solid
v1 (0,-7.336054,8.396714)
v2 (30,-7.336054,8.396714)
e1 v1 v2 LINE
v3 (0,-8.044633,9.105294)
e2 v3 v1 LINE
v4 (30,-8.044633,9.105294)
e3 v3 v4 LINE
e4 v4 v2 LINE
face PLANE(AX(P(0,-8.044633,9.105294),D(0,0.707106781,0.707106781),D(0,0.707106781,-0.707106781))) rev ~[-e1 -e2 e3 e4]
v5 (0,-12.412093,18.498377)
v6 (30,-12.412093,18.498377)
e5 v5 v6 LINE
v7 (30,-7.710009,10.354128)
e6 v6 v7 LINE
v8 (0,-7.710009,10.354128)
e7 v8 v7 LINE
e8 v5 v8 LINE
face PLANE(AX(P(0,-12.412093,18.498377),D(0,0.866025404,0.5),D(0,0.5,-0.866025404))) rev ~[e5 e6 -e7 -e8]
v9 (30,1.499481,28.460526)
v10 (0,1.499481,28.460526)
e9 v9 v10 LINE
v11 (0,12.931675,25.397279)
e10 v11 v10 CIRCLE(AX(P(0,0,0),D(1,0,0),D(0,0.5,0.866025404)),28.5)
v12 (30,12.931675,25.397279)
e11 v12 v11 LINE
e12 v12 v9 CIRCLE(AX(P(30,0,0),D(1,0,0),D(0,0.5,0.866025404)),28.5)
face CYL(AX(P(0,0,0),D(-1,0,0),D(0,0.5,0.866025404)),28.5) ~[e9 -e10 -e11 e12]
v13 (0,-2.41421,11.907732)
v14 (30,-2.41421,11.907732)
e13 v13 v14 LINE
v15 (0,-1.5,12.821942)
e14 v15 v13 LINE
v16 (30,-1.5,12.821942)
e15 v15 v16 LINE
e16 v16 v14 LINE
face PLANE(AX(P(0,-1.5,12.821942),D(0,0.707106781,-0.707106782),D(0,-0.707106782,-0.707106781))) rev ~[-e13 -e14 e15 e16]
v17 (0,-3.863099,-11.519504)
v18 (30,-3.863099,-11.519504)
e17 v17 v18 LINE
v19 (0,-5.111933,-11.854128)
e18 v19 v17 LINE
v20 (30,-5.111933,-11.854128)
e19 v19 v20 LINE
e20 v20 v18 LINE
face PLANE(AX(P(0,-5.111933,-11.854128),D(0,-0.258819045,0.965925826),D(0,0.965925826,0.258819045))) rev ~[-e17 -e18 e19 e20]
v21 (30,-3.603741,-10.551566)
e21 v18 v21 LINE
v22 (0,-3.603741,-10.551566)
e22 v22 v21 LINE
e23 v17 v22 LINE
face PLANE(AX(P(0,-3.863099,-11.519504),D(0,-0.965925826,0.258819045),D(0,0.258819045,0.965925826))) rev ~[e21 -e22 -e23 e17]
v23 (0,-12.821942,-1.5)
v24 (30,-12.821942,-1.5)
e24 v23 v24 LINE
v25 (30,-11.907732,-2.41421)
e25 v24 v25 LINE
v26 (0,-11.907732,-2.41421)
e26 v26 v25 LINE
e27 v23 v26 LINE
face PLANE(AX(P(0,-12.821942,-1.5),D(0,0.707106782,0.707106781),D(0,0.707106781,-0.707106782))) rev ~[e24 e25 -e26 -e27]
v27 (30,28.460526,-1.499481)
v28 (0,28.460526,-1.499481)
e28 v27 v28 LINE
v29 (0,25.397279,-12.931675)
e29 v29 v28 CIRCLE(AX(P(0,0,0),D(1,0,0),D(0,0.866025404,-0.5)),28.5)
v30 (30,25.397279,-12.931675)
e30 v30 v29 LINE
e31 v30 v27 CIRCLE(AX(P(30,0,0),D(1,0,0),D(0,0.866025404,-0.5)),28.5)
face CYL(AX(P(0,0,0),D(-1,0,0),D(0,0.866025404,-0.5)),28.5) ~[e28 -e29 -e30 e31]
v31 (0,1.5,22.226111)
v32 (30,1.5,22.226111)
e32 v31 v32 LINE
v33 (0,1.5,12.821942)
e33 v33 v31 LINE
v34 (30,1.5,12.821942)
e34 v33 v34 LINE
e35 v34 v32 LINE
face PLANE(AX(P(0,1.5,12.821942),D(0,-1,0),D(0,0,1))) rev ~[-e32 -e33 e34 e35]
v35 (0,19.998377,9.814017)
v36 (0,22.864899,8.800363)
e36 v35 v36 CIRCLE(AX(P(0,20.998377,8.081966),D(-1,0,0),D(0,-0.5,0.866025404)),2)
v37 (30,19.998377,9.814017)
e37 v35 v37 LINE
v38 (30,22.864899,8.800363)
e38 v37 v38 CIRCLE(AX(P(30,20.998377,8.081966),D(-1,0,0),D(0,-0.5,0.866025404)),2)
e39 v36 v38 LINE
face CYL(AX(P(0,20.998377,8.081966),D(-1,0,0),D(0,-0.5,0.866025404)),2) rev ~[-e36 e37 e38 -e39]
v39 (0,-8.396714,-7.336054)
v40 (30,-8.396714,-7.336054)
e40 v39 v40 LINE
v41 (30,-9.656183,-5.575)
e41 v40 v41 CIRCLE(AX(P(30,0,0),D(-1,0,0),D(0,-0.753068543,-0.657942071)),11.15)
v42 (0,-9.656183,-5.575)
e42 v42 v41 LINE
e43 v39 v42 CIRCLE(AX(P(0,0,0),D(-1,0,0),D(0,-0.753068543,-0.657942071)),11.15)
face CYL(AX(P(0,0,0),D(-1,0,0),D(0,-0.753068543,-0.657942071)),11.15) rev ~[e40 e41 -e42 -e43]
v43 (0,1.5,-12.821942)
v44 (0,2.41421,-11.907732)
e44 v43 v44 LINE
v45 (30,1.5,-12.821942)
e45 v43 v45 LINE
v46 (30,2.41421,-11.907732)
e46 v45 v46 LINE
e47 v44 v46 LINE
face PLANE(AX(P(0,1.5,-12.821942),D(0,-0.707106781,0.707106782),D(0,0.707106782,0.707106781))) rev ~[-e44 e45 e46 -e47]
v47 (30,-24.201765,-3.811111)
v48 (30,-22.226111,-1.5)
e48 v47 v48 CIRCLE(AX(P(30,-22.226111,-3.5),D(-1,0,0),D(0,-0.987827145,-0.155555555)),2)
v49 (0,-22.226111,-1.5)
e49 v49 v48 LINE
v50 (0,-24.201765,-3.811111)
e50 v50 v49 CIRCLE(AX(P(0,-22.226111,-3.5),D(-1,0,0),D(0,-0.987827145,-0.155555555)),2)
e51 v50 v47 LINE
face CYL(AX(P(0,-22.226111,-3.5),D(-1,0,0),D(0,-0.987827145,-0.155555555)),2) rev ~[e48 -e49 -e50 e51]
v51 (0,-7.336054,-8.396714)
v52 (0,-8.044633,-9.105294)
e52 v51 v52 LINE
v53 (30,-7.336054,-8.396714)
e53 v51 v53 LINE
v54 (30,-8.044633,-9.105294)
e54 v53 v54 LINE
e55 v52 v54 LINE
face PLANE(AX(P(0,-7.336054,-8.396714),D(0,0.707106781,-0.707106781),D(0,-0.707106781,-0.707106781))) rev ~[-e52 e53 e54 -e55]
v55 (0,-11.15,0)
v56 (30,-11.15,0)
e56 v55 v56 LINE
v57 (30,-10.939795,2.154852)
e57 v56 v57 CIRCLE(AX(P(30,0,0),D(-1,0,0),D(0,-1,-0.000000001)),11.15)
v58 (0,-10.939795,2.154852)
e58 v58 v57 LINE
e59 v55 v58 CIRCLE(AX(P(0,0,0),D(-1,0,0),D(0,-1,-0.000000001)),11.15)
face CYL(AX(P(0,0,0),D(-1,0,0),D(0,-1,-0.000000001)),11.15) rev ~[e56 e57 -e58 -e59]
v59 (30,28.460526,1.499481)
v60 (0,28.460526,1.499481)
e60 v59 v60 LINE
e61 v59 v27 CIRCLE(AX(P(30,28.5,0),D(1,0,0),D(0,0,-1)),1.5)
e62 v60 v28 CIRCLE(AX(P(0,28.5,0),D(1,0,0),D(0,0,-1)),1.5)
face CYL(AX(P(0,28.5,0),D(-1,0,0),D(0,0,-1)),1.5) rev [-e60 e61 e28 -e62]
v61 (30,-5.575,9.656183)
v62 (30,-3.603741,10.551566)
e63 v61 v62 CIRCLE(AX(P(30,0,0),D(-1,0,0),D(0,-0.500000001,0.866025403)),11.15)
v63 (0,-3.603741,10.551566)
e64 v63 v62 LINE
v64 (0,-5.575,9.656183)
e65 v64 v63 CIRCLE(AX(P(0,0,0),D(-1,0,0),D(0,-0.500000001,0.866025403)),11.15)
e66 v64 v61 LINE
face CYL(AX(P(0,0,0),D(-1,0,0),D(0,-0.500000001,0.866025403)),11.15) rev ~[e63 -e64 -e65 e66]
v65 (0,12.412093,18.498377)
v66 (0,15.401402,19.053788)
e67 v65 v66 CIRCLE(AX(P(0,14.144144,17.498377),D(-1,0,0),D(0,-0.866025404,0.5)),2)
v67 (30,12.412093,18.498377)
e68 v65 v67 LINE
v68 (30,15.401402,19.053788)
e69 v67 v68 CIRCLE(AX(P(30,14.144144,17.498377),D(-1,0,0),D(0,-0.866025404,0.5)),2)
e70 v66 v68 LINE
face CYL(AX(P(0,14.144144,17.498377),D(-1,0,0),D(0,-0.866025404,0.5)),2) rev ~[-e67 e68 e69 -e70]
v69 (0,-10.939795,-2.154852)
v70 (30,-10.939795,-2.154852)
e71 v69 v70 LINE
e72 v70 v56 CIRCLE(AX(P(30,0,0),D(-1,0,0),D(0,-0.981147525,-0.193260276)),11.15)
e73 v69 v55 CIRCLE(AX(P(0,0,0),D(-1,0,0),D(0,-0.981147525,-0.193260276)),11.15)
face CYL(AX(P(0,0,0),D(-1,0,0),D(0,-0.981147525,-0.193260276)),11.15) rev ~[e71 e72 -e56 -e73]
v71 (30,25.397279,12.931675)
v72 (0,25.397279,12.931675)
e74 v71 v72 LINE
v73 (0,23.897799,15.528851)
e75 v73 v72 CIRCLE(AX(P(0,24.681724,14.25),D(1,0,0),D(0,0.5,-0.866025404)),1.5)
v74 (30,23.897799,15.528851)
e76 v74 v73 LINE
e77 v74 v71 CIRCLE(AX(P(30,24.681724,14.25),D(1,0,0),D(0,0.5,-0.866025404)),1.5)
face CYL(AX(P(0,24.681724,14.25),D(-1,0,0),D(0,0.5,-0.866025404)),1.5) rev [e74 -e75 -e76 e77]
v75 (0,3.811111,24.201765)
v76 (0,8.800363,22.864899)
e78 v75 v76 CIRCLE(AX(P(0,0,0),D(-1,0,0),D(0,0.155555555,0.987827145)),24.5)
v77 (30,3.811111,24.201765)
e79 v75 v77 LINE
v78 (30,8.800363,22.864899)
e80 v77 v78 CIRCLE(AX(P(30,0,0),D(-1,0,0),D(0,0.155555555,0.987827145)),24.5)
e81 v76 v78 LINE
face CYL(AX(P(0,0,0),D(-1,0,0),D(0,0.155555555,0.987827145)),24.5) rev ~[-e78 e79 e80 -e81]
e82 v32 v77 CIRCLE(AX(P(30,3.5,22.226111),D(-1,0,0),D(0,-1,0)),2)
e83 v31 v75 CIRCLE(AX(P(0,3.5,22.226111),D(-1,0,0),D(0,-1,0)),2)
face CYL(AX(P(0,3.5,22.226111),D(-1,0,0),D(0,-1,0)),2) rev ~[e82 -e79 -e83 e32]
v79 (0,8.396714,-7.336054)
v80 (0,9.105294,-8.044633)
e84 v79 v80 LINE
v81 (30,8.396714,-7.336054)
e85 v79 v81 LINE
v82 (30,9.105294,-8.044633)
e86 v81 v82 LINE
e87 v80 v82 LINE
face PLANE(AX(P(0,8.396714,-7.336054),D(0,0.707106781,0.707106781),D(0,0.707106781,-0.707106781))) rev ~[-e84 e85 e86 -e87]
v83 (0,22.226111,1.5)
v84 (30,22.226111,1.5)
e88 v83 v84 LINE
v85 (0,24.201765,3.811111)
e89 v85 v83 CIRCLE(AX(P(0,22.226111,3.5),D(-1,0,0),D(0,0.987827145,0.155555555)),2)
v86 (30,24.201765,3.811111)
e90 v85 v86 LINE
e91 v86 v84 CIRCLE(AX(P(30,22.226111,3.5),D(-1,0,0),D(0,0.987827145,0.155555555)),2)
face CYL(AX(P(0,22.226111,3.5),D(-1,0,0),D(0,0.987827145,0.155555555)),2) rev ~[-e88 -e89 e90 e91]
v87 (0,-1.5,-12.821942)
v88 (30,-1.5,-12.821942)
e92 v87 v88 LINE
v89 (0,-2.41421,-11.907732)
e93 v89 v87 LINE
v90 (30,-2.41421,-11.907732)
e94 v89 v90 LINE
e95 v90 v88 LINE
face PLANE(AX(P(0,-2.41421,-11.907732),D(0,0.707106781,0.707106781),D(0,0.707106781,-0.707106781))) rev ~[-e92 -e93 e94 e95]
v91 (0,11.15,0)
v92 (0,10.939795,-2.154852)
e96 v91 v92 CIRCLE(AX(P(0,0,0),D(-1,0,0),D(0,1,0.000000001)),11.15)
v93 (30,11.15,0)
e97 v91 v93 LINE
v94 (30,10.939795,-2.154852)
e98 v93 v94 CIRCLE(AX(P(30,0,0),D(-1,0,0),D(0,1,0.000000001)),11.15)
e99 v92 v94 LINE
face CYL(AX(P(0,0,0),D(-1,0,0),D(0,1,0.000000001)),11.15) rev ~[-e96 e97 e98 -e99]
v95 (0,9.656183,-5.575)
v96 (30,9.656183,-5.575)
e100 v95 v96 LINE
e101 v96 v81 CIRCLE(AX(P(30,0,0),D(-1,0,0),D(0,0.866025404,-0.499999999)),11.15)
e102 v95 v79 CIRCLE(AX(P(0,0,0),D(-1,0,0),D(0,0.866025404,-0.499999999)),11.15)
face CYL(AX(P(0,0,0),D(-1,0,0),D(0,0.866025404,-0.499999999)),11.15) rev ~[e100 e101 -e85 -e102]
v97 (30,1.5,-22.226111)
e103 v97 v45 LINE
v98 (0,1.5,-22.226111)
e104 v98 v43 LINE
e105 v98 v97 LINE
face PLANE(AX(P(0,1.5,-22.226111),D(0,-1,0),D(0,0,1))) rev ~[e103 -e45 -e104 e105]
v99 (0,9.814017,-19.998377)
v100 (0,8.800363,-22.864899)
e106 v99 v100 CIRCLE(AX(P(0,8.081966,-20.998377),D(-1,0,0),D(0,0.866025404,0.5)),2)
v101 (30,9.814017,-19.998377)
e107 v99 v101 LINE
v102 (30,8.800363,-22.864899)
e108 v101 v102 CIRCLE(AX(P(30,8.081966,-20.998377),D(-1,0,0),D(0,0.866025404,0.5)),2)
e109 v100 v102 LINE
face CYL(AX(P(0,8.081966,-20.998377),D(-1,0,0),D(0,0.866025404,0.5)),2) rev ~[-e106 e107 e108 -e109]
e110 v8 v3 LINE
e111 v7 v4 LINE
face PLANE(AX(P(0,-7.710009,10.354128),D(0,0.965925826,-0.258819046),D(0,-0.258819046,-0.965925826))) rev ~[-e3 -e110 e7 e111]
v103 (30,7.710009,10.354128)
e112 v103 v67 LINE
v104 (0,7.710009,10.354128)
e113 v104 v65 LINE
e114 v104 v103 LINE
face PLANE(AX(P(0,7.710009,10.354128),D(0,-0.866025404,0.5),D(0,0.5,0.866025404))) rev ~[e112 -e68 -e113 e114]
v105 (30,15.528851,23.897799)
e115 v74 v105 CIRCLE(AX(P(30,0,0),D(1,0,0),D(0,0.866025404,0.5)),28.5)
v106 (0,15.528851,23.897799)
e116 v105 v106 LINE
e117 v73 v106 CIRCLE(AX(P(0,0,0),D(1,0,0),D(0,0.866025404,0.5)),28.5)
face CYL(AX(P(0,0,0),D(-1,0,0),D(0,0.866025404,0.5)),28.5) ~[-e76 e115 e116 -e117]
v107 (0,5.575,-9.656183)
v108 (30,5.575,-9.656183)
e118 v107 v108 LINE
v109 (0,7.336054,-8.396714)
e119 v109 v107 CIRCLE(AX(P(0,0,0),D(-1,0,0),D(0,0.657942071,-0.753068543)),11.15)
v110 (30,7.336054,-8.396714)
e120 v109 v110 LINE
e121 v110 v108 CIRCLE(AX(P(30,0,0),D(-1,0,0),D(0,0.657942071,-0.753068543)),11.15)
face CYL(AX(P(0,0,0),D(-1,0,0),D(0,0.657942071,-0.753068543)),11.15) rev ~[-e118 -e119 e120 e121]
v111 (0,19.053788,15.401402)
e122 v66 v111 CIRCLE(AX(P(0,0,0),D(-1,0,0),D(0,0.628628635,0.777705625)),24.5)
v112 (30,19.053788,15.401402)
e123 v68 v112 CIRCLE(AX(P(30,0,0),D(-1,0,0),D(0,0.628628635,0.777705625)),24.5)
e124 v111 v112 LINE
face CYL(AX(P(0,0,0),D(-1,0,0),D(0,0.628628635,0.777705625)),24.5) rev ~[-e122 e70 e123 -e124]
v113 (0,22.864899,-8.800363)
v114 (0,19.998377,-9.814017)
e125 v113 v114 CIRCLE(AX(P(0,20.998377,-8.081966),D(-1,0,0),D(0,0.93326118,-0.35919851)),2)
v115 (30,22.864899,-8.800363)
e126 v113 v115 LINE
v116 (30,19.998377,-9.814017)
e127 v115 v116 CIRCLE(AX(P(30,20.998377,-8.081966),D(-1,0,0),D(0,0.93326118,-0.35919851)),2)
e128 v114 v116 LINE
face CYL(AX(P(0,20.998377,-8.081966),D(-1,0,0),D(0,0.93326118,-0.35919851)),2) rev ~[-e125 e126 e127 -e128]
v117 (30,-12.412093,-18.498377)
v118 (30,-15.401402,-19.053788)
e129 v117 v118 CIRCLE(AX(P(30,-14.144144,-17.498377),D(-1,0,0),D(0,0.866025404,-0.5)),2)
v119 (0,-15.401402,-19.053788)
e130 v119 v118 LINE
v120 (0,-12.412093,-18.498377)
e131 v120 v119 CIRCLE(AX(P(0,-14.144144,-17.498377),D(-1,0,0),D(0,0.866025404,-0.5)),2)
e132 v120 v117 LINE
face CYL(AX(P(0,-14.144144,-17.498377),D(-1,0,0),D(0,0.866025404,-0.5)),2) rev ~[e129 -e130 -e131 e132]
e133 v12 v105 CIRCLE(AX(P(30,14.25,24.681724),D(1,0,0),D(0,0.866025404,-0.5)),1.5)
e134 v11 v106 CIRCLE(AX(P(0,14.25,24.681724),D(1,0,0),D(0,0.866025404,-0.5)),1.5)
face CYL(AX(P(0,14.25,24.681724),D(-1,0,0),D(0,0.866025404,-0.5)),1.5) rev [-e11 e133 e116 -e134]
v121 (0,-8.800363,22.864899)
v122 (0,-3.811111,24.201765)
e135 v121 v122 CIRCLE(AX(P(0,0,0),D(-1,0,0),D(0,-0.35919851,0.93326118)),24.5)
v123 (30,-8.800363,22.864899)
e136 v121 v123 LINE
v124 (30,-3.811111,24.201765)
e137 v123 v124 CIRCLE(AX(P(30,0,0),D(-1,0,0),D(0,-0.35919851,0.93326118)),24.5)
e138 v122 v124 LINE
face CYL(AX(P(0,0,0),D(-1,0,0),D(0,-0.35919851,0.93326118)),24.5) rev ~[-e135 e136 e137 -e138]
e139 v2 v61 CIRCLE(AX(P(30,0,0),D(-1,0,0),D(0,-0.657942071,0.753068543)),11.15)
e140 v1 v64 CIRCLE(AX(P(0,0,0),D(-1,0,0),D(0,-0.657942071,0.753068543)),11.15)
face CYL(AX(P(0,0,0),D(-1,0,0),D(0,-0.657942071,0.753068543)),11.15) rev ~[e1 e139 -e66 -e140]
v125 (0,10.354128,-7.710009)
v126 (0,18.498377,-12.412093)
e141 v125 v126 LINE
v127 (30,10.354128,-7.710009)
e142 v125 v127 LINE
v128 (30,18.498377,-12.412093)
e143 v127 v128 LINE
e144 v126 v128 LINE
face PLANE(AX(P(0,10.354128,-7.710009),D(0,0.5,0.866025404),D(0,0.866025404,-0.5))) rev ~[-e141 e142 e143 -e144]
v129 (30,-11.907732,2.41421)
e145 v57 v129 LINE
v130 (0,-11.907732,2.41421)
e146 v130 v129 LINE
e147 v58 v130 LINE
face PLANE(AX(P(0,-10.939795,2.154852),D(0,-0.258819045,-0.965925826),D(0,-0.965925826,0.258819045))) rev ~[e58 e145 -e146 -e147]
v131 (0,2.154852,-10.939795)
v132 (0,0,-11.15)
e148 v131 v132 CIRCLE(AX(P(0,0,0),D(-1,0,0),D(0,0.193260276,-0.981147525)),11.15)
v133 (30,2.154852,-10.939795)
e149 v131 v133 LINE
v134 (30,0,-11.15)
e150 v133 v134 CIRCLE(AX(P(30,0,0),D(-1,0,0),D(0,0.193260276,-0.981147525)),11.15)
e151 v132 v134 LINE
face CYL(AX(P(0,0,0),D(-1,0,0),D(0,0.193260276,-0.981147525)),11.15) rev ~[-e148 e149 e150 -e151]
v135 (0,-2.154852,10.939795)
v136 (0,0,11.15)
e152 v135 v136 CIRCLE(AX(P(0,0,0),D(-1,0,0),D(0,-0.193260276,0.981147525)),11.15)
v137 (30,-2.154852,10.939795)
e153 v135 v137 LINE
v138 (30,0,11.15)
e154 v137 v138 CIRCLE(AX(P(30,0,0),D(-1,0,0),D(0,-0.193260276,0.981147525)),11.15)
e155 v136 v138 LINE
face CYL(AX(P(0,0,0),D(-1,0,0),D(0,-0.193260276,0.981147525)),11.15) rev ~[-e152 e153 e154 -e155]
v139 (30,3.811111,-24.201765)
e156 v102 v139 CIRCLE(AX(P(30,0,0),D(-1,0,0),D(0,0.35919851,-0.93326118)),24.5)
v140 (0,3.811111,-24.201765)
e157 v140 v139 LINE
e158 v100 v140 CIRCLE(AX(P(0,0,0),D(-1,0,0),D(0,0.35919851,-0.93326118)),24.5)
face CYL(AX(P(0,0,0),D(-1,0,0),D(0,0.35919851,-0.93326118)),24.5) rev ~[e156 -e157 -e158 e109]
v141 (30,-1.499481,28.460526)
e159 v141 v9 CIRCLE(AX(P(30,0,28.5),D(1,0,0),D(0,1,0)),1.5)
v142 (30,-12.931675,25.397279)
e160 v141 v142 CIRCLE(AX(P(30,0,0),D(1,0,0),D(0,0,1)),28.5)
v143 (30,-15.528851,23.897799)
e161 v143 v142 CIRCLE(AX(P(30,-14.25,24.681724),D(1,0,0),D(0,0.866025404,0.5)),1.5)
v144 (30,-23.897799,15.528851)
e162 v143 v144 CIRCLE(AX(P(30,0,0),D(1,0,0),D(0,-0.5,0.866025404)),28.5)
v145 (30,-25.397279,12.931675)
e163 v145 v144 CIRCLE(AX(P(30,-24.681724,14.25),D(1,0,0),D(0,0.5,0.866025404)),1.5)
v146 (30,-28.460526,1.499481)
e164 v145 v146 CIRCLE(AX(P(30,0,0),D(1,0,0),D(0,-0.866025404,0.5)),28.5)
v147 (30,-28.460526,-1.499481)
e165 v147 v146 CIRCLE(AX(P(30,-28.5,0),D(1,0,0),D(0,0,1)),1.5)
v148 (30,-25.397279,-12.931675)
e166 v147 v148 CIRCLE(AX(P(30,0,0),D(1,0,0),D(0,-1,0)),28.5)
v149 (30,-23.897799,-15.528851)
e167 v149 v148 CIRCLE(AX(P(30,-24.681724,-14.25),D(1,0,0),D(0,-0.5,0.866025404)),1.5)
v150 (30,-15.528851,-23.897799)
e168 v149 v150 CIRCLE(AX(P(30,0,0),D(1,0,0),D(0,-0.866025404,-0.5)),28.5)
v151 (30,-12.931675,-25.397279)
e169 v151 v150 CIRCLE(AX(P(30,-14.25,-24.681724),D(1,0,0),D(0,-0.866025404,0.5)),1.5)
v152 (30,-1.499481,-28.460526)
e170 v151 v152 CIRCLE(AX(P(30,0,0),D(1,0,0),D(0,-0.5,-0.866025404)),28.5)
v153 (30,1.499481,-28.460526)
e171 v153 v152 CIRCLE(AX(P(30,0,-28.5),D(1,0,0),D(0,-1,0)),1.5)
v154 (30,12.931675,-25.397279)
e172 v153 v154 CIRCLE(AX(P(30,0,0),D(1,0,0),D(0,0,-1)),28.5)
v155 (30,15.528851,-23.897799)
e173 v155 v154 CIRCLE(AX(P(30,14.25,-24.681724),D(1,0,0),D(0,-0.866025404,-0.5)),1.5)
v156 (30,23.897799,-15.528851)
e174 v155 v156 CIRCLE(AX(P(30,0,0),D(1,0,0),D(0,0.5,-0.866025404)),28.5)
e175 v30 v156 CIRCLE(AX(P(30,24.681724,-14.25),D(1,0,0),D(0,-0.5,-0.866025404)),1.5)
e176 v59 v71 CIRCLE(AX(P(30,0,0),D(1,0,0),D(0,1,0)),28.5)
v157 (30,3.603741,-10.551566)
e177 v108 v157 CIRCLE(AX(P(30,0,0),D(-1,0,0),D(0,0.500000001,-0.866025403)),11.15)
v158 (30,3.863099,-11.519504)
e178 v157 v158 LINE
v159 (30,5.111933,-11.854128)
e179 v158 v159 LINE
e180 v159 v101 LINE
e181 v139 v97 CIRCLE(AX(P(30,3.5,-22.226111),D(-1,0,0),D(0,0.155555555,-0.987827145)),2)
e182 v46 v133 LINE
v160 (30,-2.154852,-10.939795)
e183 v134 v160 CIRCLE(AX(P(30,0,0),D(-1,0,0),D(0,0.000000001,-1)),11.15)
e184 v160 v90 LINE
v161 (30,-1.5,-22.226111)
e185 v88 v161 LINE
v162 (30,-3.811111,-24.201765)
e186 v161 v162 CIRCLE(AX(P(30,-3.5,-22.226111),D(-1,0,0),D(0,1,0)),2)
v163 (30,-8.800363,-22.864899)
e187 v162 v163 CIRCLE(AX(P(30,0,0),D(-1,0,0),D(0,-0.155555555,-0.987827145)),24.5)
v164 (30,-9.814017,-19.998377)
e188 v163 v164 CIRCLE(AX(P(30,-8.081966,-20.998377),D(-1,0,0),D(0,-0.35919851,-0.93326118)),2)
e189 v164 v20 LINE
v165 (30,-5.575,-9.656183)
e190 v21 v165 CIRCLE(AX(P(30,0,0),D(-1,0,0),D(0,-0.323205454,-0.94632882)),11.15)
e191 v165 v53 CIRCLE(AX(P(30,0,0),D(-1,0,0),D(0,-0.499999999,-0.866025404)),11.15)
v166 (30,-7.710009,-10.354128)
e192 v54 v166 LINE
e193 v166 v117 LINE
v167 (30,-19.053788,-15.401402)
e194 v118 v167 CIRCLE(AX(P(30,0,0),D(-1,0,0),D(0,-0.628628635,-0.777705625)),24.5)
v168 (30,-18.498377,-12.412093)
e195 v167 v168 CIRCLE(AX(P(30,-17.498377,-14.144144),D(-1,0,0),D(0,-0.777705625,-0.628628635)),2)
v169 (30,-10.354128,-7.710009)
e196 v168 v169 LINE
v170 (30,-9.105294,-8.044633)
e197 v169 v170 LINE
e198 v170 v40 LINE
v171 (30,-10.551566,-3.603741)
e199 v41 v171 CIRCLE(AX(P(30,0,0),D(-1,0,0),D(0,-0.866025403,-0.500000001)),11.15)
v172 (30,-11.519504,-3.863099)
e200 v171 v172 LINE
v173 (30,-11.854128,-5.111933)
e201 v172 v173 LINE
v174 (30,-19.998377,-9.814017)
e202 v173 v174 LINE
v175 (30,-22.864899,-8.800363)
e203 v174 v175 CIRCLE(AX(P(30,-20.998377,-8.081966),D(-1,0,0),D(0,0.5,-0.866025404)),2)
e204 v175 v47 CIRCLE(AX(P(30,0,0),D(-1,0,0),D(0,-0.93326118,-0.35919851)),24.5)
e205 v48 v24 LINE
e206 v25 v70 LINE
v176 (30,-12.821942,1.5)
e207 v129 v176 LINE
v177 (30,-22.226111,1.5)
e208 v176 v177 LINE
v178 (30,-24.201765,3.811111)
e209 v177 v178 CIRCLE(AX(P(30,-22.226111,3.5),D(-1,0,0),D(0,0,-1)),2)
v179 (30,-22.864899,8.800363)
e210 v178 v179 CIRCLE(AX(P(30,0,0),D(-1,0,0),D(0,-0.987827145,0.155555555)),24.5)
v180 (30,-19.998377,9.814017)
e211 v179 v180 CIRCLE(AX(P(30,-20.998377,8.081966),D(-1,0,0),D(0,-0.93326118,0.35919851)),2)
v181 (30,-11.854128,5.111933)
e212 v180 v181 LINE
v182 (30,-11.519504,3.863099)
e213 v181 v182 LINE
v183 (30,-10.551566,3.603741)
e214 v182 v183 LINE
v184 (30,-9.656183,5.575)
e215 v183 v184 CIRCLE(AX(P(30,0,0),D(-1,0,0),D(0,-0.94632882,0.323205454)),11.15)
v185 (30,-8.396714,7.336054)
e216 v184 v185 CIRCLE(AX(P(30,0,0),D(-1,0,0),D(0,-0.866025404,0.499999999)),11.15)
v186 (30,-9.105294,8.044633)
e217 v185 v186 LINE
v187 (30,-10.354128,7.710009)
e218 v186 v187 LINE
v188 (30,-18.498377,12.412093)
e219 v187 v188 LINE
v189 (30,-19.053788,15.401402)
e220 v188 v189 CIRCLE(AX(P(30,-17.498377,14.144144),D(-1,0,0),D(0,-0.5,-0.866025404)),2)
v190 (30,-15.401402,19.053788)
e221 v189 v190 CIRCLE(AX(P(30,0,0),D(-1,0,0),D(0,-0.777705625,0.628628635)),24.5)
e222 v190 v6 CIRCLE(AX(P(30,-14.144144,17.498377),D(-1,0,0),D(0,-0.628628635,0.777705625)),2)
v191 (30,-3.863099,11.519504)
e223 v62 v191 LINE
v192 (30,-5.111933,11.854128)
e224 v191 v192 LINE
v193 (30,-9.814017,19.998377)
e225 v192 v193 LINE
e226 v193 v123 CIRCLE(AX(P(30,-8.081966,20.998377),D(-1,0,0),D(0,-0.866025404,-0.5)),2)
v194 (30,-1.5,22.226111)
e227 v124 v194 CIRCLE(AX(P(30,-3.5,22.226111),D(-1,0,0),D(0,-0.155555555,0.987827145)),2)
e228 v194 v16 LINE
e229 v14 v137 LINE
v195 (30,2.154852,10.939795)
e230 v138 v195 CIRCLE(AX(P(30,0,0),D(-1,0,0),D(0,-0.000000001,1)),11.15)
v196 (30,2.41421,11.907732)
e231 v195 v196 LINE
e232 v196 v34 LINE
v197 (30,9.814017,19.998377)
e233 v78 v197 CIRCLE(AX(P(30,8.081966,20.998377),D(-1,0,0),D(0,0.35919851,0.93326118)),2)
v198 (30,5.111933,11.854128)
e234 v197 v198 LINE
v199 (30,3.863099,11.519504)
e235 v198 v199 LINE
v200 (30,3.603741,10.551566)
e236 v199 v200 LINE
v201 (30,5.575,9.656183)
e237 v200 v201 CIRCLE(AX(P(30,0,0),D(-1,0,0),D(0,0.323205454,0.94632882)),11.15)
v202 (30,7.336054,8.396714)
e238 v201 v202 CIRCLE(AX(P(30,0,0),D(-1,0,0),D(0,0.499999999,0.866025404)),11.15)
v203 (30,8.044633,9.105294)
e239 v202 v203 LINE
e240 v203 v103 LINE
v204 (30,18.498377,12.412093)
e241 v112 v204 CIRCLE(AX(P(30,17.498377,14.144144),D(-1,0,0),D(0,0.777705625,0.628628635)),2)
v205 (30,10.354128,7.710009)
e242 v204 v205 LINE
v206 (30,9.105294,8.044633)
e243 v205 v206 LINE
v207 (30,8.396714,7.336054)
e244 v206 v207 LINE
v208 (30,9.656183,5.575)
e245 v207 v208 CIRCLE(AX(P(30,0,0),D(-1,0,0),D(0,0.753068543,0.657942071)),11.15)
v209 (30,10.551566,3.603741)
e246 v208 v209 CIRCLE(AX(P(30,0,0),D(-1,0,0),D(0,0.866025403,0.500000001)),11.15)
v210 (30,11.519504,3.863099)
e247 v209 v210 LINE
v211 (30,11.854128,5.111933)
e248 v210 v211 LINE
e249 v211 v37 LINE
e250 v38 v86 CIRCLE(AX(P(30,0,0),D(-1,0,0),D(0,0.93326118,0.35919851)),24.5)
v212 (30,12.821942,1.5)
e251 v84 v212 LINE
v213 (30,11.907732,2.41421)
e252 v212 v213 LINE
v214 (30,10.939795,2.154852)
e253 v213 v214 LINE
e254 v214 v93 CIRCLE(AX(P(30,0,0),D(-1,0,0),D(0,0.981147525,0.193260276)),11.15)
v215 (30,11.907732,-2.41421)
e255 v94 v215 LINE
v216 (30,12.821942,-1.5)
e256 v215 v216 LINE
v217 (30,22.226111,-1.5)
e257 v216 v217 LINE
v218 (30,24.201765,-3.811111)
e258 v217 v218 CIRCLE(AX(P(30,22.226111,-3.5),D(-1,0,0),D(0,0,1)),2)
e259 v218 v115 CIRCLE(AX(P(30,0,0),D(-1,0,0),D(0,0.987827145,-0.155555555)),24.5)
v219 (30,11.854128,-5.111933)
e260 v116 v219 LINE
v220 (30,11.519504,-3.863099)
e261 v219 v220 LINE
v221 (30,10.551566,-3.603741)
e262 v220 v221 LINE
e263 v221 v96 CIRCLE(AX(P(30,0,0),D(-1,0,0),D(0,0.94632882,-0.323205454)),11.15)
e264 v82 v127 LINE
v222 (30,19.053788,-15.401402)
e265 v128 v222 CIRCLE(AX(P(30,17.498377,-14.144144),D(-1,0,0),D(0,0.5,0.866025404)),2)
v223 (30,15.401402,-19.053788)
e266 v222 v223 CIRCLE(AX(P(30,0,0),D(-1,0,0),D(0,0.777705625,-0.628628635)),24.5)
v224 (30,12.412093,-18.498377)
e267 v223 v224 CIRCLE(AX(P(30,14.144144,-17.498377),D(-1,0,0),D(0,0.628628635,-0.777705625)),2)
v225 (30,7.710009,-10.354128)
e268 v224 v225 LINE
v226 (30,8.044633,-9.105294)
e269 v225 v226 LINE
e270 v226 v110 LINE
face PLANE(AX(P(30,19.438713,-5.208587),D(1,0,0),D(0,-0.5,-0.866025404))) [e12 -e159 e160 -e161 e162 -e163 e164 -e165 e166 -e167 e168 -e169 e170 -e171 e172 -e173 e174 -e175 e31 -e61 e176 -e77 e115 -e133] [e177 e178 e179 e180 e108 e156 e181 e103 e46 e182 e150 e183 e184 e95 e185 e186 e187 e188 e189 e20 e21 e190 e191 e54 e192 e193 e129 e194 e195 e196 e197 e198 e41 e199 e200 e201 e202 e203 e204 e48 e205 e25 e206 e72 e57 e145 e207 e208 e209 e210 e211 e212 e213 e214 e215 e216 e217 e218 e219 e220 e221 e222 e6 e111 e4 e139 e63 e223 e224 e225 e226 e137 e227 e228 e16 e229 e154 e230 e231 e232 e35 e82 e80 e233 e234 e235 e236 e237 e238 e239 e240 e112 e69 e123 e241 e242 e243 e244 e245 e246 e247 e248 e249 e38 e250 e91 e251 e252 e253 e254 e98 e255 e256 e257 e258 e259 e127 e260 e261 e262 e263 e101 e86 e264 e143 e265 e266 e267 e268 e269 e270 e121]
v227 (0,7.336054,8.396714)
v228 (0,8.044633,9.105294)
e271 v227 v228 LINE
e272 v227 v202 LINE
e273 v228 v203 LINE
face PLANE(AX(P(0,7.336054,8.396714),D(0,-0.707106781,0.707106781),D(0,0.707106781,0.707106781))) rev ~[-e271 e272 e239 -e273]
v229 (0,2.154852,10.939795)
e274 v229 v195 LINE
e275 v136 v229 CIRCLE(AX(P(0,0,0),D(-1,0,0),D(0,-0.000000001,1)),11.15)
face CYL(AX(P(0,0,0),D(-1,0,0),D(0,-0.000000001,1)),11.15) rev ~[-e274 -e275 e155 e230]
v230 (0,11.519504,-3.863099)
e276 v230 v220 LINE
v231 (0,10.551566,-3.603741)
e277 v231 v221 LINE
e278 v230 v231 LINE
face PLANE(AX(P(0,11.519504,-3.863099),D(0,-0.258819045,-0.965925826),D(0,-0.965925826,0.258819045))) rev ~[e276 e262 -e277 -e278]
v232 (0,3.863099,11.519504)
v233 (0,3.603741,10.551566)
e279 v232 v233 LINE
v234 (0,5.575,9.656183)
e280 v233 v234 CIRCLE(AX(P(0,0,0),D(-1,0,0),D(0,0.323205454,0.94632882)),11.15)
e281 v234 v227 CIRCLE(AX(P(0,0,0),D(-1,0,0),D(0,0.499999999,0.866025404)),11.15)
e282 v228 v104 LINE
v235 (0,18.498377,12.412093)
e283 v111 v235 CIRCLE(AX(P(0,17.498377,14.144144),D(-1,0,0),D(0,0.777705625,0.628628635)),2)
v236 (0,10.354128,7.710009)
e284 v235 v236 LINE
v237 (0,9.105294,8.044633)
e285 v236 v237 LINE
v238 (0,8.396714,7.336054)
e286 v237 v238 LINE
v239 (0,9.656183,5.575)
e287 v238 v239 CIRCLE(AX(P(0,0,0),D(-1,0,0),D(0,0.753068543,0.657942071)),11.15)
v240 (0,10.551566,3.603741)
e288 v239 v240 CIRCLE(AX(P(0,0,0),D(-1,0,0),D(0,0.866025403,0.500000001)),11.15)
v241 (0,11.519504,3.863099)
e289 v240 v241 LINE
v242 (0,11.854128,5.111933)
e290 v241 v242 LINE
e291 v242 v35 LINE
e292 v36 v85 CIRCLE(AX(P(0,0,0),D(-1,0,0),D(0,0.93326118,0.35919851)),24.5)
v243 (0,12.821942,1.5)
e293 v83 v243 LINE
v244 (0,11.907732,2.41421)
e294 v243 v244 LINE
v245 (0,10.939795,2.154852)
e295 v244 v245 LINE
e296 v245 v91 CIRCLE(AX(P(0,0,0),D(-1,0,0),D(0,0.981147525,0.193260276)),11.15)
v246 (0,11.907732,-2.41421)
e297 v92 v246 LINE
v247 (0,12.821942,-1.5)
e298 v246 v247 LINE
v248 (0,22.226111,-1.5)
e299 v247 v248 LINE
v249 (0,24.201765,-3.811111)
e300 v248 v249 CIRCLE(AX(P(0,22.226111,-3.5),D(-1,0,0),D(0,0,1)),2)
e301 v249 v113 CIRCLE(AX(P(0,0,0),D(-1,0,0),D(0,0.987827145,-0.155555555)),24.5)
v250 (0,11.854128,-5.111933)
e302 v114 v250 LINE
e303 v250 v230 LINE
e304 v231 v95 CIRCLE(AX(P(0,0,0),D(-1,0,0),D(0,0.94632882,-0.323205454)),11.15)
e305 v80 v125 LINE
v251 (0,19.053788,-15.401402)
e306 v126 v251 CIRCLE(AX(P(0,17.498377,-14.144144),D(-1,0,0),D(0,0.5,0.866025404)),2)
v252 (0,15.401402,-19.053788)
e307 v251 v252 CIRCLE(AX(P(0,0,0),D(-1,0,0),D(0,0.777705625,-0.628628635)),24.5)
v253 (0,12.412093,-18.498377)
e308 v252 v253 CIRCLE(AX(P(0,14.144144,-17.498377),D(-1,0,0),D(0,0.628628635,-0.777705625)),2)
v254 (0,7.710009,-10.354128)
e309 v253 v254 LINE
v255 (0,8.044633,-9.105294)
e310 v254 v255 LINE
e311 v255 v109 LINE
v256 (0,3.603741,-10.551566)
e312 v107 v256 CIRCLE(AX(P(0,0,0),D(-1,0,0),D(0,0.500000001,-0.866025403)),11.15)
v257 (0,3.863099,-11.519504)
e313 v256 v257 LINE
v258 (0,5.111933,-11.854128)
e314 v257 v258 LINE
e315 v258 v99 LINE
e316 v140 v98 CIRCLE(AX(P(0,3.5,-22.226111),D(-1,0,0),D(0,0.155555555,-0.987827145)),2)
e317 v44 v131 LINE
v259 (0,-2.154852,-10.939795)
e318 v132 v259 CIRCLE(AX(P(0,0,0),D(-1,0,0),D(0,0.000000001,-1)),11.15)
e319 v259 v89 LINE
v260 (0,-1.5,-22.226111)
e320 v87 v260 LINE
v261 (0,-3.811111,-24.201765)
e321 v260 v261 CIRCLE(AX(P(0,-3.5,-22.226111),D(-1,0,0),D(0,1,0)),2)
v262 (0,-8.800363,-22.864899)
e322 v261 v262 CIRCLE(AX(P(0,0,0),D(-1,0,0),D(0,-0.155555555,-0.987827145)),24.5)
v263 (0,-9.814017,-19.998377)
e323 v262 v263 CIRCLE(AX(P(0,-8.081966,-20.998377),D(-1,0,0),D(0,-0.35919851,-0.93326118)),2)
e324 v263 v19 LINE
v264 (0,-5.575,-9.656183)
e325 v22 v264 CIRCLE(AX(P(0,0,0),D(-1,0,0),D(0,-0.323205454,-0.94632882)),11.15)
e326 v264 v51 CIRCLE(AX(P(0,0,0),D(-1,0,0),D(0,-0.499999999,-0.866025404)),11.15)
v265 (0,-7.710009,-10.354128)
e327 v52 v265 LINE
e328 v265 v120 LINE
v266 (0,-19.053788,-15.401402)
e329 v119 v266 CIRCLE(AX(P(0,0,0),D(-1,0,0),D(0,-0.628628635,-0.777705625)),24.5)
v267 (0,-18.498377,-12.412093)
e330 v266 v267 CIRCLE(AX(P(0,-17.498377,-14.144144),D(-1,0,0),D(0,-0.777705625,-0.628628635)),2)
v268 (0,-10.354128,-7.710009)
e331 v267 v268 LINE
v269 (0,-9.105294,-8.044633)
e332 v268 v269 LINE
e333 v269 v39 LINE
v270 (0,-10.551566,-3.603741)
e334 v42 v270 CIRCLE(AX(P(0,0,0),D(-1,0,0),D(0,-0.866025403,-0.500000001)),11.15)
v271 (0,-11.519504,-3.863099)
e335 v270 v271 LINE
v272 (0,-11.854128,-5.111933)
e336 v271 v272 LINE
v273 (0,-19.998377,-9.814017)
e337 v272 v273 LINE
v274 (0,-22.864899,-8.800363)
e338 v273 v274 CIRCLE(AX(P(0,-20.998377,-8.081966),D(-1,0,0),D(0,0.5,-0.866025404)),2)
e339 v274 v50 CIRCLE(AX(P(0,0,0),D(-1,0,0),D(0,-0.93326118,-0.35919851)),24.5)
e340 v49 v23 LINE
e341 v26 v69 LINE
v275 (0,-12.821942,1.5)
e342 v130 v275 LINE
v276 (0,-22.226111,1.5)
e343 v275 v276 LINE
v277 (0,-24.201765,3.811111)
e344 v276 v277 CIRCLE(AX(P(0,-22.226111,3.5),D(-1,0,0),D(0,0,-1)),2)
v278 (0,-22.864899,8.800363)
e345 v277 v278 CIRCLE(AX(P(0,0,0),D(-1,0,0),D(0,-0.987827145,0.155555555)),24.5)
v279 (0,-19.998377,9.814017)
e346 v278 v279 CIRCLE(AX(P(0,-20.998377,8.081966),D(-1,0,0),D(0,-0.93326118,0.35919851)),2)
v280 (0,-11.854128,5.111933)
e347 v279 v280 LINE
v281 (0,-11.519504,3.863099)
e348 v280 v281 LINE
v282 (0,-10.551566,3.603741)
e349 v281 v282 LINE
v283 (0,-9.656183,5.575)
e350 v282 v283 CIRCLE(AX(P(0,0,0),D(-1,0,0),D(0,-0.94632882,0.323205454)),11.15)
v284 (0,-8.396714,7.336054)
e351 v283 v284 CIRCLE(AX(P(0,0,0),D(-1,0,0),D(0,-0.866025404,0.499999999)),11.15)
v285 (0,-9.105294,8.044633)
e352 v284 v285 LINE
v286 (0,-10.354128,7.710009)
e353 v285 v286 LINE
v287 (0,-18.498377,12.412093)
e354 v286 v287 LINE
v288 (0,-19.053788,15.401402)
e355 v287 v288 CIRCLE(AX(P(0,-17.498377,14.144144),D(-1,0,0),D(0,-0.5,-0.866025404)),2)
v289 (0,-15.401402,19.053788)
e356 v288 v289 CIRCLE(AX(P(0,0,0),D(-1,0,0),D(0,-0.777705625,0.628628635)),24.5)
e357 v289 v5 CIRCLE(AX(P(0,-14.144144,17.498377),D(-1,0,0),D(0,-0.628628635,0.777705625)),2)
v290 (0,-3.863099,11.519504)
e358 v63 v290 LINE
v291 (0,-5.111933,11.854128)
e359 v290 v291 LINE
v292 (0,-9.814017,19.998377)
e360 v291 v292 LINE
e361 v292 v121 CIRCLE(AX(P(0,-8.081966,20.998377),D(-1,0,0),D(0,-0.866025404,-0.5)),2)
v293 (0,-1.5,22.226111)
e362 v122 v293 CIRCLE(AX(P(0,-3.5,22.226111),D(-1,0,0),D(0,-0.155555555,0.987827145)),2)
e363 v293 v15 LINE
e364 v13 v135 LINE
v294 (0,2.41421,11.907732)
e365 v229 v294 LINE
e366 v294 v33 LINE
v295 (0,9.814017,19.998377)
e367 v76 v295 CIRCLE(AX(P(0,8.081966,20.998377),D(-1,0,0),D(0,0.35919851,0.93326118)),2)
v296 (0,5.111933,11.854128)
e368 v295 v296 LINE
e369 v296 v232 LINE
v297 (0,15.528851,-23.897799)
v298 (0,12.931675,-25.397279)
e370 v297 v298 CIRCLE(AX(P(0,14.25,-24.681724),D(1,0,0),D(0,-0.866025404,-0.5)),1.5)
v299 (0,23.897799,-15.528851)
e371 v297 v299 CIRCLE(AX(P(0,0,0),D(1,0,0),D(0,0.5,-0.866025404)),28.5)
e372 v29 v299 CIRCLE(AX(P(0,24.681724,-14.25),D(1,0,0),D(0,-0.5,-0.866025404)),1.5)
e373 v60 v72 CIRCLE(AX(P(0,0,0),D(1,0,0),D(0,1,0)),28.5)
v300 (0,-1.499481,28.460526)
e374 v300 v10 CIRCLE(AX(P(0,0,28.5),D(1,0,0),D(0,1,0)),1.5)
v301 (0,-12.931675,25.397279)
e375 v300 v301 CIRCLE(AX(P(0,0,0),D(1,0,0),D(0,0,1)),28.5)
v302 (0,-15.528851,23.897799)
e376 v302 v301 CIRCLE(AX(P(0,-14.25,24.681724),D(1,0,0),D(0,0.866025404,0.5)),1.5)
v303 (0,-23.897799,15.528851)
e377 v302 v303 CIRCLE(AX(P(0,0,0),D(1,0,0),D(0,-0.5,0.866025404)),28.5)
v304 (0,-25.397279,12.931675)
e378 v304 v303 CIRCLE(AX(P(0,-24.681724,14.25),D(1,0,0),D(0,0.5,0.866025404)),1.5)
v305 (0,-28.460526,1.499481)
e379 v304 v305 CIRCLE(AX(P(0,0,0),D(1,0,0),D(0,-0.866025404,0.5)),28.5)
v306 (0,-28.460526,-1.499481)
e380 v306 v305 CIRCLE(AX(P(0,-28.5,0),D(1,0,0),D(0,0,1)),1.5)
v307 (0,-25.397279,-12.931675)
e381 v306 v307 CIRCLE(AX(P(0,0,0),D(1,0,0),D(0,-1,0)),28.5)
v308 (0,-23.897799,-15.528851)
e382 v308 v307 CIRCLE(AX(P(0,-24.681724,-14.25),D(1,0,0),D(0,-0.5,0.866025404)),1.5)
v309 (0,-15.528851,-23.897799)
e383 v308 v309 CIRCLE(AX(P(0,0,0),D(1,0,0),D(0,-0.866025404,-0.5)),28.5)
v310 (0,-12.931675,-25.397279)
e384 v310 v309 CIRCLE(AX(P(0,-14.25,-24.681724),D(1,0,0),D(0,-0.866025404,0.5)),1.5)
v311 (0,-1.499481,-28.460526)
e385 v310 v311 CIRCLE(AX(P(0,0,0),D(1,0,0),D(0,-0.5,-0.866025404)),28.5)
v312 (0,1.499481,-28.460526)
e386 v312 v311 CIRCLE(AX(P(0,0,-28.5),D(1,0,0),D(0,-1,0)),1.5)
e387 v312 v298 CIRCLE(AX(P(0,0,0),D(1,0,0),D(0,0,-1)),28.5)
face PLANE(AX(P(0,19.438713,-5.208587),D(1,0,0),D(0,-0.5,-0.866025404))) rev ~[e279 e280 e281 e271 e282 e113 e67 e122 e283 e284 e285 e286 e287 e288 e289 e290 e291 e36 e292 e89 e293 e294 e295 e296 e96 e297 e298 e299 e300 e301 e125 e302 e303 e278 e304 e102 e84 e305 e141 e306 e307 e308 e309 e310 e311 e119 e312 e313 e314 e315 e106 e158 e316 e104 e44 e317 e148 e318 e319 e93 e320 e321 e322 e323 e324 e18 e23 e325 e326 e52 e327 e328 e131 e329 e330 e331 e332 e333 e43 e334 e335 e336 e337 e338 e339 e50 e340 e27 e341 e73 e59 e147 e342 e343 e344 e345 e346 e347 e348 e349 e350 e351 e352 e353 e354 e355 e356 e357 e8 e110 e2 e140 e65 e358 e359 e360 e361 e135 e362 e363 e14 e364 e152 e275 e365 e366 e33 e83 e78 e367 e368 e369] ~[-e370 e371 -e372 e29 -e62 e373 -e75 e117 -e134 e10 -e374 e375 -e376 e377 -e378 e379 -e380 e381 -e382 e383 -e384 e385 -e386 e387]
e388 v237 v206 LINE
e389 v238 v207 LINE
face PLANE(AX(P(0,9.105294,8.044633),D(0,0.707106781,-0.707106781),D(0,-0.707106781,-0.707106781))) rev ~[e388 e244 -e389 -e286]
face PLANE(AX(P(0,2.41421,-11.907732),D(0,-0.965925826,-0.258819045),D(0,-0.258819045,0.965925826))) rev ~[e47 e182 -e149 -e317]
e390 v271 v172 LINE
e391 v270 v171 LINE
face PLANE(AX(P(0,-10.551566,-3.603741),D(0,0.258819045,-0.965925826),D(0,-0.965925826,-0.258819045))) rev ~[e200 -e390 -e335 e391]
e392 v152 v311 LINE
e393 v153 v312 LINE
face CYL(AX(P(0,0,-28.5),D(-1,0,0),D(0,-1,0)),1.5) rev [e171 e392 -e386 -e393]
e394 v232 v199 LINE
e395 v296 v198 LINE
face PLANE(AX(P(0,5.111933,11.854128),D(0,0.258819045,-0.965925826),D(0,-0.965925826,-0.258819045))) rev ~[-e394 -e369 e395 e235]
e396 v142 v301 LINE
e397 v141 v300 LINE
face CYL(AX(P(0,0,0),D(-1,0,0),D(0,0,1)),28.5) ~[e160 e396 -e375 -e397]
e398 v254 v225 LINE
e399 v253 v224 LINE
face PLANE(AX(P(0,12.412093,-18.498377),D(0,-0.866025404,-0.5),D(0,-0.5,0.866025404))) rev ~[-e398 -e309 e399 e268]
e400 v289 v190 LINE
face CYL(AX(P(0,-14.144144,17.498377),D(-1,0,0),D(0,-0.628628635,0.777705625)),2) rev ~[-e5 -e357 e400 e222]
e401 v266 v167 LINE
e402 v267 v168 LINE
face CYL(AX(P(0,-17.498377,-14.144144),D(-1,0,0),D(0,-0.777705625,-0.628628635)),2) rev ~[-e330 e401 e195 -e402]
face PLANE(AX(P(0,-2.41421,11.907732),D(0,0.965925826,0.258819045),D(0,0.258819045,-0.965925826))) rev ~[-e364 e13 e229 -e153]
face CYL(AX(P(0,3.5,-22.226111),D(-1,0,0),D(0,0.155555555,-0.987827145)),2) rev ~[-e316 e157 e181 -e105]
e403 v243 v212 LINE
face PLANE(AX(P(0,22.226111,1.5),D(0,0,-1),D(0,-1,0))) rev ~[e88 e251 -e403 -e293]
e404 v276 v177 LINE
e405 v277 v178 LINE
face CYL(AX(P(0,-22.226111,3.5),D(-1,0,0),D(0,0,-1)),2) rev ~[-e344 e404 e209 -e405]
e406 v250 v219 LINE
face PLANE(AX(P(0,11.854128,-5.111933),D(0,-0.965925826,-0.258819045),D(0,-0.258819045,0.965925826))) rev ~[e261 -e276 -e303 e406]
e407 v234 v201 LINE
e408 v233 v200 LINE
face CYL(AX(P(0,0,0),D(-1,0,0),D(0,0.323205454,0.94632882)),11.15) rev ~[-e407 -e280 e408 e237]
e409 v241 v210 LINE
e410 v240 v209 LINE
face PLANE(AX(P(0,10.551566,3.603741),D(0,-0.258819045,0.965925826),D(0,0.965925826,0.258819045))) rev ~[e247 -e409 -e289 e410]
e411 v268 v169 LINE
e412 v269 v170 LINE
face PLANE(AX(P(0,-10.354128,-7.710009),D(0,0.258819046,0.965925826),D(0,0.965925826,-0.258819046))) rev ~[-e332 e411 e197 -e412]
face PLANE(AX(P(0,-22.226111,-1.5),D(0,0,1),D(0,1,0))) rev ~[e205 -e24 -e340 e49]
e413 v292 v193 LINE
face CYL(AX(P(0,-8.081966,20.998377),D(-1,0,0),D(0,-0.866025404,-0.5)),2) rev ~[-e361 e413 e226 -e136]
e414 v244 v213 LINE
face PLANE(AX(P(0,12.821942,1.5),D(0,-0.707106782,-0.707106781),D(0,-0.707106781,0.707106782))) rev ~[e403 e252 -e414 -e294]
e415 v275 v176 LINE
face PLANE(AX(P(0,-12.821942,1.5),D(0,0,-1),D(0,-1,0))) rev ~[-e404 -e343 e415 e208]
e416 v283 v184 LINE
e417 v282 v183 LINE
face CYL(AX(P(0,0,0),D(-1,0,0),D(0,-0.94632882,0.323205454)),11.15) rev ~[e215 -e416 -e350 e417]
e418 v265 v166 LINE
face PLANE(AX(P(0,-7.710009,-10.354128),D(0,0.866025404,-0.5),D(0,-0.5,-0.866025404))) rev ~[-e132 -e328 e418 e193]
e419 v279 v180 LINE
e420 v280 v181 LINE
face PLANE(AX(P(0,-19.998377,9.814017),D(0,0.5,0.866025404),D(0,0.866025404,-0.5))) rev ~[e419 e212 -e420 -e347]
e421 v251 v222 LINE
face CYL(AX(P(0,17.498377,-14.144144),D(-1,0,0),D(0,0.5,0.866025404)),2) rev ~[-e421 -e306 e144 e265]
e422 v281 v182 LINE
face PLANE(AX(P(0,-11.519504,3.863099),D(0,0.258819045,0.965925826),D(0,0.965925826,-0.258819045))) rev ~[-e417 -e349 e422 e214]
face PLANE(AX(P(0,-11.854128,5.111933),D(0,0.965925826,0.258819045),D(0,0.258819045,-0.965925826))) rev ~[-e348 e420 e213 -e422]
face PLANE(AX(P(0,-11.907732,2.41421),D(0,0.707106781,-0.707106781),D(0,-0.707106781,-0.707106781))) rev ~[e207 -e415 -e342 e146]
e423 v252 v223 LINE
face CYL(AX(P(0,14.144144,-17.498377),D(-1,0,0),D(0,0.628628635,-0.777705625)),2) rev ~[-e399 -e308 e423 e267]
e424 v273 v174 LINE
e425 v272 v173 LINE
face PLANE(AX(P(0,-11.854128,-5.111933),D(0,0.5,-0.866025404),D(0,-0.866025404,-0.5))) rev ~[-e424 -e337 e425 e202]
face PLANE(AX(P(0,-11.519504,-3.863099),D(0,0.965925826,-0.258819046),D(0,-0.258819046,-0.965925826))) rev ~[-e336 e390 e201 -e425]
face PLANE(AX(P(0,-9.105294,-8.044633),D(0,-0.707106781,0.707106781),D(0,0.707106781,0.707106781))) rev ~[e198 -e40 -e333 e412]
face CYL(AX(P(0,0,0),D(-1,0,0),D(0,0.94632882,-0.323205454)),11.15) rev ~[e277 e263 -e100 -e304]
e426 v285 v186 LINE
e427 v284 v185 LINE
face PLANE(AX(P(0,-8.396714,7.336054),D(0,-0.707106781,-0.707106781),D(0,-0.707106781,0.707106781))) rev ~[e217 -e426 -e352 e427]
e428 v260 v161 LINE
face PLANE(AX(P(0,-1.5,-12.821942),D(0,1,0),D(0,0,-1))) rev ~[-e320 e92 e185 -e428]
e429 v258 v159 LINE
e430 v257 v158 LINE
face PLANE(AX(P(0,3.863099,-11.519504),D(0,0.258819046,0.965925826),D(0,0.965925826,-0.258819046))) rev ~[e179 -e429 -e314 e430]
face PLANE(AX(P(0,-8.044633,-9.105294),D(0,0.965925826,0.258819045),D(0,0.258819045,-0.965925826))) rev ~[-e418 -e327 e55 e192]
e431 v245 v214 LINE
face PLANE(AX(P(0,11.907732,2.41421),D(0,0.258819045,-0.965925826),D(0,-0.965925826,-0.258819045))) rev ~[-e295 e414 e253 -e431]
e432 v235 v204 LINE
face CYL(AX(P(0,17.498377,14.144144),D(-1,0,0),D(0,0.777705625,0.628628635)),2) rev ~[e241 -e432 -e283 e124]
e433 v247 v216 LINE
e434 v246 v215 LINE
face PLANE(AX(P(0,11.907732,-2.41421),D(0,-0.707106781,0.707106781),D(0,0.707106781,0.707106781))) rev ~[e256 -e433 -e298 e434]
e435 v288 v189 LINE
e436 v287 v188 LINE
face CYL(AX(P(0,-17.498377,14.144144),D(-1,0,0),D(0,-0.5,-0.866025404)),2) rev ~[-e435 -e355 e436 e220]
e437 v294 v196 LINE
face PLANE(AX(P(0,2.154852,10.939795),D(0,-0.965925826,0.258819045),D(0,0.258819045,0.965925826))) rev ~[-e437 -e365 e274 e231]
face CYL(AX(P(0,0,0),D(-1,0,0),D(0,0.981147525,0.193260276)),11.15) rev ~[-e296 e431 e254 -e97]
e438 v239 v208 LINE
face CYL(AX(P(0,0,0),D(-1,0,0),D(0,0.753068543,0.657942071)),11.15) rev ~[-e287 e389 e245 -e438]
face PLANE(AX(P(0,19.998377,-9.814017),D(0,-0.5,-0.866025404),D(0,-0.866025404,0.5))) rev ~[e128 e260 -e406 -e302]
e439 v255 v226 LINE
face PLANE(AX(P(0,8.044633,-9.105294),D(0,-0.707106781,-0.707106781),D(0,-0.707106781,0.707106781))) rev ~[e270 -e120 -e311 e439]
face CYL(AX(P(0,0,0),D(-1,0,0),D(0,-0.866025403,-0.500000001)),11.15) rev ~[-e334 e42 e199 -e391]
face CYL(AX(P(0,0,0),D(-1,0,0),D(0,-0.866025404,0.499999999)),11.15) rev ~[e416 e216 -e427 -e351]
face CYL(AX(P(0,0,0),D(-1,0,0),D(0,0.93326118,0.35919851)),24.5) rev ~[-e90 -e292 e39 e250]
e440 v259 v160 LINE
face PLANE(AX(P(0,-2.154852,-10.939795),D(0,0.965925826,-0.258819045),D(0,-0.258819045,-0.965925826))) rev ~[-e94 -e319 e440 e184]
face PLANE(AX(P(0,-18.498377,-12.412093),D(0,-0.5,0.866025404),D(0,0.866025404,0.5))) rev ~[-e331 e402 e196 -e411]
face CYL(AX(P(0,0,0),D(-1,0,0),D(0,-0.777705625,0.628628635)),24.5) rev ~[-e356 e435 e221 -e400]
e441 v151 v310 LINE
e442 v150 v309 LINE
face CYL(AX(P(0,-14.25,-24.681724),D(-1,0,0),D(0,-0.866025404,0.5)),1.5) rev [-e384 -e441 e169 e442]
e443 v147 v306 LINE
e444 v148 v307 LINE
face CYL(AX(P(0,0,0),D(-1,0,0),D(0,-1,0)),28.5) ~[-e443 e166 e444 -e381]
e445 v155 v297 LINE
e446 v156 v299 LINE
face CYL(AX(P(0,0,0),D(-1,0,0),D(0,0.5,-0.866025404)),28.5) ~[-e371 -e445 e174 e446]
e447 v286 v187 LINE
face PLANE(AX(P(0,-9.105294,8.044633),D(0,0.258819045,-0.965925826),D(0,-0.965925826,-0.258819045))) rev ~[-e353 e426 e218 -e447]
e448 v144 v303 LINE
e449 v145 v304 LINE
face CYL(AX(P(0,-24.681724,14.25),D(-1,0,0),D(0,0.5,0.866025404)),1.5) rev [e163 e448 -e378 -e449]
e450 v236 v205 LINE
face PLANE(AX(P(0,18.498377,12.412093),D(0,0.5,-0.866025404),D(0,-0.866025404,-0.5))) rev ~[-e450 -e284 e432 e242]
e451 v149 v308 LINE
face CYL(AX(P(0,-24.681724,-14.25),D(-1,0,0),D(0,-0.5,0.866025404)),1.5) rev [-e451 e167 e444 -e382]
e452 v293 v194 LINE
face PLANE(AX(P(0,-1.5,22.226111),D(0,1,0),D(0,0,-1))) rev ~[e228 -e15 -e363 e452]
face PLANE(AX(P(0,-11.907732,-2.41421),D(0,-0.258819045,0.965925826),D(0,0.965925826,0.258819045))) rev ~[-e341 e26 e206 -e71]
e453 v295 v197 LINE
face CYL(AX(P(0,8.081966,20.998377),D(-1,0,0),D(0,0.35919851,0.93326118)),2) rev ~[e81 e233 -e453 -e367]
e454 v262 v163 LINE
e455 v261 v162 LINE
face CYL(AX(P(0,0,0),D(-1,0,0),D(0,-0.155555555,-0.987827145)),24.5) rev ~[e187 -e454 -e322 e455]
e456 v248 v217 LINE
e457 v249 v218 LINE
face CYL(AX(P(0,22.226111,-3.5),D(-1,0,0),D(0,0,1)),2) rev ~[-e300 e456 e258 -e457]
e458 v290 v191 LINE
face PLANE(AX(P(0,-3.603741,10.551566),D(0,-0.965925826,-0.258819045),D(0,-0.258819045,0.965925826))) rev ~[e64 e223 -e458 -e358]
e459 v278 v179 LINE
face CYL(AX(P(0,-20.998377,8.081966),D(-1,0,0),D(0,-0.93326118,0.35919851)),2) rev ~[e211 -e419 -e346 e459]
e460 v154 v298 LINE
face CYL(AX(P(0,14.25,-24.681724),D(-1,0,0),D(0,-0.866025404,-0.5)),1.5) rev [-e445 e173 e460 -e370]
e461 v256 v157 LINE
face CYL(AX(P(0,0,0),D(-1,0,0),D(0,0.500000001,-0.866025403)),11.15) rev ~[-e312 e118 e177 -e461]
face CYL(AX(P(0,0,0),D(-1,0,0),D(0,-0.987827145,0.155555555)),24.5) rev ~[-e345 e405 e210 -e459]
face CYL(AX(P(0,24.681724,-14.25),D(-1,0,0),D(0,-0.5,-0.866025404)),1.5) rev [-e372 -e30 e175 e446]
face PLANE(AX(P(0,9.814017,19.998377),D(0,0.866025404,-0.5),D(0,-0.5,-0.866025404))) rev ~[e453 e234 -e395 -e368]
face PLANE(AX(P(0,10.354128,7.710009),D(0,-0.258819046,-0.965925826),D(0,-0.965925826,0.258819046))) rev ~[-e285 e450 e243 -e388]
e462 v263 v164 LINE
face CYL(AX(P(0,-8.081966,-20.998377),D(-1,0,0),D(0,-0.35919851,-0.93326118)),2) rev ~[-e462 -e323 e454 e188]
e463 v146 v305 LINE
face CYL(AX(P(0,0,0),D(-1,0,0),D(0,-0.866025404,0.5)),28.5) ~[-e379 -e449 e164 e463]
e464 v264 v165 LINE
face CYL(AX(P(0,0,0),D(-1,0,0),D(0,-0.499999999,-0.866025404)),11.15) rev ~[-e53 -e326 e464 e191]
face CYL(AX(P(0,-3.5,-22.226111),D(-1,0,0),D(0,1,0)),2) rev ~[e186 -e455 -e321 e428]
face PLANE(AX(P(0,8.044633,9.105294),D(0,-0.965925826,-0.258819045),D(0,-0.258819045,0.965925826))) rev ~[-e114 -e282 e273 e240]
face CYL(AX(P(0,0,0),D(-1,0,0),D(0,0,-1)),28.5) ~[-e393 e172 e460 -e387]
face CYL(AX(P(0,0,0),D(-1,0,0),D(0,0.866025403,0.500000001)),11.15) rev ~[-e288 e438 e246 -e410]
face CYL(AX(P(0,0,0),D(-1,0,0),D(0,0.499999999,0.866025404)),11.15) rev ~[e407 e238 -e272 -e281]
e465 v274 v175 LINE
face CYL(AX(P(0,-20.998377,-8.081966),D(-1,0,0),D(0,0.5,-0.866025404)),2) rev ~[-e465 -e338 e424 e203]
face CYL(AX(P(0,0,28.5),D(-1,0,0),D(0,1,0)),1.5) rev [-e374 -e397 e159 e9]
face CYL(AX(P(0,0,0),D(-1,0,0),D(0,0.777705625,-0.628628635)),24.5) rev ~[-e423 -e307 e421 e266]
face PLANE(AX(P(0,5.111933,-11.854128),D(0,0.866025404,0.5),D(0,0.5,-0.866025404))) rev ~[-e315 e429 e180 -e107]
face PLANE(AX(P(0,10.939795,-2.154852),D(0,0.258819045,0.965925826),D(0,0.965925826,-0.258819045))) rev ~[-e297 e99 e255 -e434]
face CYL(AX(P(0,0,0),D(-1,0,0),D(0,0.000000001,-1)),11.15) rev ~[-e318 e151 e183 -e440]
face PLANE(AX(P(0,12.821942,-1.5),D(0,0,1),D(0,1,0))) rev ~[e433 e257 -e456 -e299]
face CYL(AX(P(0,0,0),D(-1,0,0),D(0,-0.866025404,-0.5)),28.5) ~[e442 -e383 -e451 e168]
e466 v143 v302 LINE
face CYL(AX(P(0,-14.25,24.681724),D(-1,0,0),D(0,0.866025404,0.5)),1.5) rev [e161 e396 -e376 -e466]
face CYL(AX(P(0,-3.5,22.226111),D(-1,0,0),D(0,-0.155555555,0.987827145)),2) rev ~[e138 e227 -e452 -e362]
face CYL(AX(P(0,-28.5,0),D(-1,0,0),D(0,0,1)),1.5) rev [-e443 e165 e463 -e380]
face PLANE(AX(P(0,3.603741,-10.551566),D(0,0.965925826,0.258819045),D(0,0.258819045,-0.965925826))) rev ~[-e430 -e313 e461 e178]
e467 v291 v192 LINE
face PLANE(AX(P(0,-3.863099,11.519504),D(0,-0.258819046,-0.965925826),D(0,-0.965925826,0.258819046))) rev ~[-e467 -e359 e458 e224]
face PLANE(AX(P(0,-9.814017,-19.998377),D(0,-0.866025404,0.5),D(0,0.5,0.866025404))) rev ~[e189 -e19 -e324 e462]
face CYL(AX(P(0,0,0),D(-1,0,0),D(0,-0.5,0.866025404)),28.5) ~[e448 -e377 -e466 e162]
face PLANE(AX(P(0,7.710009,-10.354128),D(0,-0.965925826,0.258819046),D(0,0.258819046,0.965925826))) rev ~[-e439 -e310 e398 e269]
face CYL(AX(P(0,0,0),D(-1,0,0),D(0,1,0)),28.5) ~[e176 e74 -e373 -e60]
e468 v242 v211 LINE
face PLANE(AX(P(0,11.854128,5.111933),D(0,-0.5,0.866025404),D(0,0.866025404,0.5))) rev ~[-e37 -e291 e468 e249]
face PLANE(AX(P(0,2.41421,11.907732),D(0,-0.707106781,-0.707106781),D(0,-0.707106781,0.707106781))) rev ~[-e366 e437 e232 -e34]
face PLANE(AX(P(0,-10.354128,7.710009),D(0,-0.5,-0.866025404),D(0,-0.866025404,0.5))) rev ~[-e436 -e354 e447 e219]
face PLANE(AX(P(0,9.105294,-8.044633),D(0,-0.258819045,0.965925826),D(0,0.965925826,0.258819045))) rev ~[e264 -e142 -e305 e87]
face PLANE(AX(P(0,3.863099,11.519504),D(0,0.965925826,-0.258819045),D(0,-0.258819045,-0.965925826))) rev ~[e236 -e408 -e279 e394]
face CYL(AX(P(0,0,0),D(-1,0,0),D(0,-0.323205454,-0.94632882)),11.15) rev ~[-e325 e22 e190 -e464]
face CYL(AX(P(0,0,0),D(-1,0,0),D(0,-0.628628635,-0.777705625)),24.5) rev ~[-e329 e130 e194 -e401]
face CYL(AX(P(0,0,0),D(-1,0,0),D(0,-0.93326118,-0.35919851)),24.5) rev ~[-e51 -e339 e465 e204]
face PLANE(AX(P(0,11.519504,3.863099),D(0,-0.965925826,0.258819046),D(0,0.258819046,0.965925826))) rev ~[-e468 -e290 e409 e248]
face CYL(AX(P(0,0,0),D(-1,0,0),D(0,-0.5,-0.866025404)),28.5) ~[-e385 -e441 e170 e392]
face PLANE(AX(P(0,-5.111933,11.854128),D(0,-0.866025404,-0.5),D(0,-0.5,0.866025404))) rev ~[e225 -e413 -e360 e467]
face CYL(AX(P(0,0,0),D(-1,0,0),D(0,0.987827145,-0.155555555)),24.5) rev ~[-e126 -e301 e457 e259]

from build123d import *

# Parameters (mm, degrees)
BOSS_EXTRUDE1_DEPTH = 30
CIRPATTERN1_COUNT   = 12
SKETCH4_R           = 1.5
CUT_EXTRUDE1_DEPTH  = 30
CIRPATTERN2_COUNT   = 12


with BuildPart() as part:
    # Sketch3 → Boss-Extrude1 (new body)
    with BuildSketch(Plane(origin=(0, 0, 0), x_dir=(0, 0, -1), z_dir=(1, 0, 0))):
        with BuildLine():
            Line((-14.25, 24.681724008), (-5.575, 9.656183252))
            ThreePointArc((-5.575, 9.656183252), (-4.611154785, 10.151834886), (-3.603740814, 10.551566336))
            Line((-3.603740814, 10.551566336), (-3.863098868, 11.519503771))
            Line((-3.863098868, 11.519503771), (-5.111933128, 11.854127903))
            Line((-5.111933128, 11.854127903), (-9.81401728, 19.998376555))
            ThreePointArc((-9.81401728, 19.998376555), (-9.96754629, 21.665151442), (-8.800363492, 22.864898915))
            ThreePointArc((-8.800363492, 22.864898915), (-6.341066605, 23.665182744), (-3.811111111, 24.201765062))
            ThreePointArc((-3.811111111, 24.201765062), (-2.200427421, 23.746344671), (-1.5, 22.226110771))
            Line((-1.5, 22.226110771), (-1.5, 12.821942467))
            Line((-1.5, 12.821942467), (-2.414210129, 11.907732339))
            Line((-2.414210129, 11.907732339), (-2.154852075, 10.939794904))
            ThreePointArc((-2.154852075, 10.939794904), (-1.082540259, 11.097324299), (0, 11.15))
            Line((0, 11.15), (0, 28.5))
            ThreePointArc((0, 28.5), (-7.376342785, 27.528886049), (-14.25, 24.681724008))
        make_face()
    boss_extrude1 = extrude(amount=BOSS_EXTRUDE1_DEPTH)

    # CirPattern1: Boss-Extrude1 ×12 about axis
    cirpattern1_axis = Axis((-2, 0, 0), (1, 0, 0))
    for i in range(1, CIRPATTERN1_COUNT):
        add(boss_extrude1.rotate(cirpattern1_axis, i * 360 / CIRPATTERN1_COUNT))

    # Sketch4 → Cut-Extrude1 (cut)
    with BuildSketch(Plane(origin=(0, 0, 0), x_dir=(0, 0, -1), z_dir=(1, 0, 0))):
        with Locations((0, 28.5)):
            Circle(SKETCH4_R)
    cut_extrude1 = extrude(amount=CUT_EXTRUDE1_DEPTH, mode=Mode.SUBTRACT)

    # CirPattern2: Cut-Extrude1 ×12 about axis
    cirpattern2_axis = Axis((-2, 0, 0), (1, 0, 0))
    for i in range(1, CIRPATTERN2_COUNT):
        add(cut_extrude1.rotate(cirpattern2_axis, i * 360 / CIRPATTERN2_COUNT), mode=Mode.SUBTRACT)


solid = part.part
